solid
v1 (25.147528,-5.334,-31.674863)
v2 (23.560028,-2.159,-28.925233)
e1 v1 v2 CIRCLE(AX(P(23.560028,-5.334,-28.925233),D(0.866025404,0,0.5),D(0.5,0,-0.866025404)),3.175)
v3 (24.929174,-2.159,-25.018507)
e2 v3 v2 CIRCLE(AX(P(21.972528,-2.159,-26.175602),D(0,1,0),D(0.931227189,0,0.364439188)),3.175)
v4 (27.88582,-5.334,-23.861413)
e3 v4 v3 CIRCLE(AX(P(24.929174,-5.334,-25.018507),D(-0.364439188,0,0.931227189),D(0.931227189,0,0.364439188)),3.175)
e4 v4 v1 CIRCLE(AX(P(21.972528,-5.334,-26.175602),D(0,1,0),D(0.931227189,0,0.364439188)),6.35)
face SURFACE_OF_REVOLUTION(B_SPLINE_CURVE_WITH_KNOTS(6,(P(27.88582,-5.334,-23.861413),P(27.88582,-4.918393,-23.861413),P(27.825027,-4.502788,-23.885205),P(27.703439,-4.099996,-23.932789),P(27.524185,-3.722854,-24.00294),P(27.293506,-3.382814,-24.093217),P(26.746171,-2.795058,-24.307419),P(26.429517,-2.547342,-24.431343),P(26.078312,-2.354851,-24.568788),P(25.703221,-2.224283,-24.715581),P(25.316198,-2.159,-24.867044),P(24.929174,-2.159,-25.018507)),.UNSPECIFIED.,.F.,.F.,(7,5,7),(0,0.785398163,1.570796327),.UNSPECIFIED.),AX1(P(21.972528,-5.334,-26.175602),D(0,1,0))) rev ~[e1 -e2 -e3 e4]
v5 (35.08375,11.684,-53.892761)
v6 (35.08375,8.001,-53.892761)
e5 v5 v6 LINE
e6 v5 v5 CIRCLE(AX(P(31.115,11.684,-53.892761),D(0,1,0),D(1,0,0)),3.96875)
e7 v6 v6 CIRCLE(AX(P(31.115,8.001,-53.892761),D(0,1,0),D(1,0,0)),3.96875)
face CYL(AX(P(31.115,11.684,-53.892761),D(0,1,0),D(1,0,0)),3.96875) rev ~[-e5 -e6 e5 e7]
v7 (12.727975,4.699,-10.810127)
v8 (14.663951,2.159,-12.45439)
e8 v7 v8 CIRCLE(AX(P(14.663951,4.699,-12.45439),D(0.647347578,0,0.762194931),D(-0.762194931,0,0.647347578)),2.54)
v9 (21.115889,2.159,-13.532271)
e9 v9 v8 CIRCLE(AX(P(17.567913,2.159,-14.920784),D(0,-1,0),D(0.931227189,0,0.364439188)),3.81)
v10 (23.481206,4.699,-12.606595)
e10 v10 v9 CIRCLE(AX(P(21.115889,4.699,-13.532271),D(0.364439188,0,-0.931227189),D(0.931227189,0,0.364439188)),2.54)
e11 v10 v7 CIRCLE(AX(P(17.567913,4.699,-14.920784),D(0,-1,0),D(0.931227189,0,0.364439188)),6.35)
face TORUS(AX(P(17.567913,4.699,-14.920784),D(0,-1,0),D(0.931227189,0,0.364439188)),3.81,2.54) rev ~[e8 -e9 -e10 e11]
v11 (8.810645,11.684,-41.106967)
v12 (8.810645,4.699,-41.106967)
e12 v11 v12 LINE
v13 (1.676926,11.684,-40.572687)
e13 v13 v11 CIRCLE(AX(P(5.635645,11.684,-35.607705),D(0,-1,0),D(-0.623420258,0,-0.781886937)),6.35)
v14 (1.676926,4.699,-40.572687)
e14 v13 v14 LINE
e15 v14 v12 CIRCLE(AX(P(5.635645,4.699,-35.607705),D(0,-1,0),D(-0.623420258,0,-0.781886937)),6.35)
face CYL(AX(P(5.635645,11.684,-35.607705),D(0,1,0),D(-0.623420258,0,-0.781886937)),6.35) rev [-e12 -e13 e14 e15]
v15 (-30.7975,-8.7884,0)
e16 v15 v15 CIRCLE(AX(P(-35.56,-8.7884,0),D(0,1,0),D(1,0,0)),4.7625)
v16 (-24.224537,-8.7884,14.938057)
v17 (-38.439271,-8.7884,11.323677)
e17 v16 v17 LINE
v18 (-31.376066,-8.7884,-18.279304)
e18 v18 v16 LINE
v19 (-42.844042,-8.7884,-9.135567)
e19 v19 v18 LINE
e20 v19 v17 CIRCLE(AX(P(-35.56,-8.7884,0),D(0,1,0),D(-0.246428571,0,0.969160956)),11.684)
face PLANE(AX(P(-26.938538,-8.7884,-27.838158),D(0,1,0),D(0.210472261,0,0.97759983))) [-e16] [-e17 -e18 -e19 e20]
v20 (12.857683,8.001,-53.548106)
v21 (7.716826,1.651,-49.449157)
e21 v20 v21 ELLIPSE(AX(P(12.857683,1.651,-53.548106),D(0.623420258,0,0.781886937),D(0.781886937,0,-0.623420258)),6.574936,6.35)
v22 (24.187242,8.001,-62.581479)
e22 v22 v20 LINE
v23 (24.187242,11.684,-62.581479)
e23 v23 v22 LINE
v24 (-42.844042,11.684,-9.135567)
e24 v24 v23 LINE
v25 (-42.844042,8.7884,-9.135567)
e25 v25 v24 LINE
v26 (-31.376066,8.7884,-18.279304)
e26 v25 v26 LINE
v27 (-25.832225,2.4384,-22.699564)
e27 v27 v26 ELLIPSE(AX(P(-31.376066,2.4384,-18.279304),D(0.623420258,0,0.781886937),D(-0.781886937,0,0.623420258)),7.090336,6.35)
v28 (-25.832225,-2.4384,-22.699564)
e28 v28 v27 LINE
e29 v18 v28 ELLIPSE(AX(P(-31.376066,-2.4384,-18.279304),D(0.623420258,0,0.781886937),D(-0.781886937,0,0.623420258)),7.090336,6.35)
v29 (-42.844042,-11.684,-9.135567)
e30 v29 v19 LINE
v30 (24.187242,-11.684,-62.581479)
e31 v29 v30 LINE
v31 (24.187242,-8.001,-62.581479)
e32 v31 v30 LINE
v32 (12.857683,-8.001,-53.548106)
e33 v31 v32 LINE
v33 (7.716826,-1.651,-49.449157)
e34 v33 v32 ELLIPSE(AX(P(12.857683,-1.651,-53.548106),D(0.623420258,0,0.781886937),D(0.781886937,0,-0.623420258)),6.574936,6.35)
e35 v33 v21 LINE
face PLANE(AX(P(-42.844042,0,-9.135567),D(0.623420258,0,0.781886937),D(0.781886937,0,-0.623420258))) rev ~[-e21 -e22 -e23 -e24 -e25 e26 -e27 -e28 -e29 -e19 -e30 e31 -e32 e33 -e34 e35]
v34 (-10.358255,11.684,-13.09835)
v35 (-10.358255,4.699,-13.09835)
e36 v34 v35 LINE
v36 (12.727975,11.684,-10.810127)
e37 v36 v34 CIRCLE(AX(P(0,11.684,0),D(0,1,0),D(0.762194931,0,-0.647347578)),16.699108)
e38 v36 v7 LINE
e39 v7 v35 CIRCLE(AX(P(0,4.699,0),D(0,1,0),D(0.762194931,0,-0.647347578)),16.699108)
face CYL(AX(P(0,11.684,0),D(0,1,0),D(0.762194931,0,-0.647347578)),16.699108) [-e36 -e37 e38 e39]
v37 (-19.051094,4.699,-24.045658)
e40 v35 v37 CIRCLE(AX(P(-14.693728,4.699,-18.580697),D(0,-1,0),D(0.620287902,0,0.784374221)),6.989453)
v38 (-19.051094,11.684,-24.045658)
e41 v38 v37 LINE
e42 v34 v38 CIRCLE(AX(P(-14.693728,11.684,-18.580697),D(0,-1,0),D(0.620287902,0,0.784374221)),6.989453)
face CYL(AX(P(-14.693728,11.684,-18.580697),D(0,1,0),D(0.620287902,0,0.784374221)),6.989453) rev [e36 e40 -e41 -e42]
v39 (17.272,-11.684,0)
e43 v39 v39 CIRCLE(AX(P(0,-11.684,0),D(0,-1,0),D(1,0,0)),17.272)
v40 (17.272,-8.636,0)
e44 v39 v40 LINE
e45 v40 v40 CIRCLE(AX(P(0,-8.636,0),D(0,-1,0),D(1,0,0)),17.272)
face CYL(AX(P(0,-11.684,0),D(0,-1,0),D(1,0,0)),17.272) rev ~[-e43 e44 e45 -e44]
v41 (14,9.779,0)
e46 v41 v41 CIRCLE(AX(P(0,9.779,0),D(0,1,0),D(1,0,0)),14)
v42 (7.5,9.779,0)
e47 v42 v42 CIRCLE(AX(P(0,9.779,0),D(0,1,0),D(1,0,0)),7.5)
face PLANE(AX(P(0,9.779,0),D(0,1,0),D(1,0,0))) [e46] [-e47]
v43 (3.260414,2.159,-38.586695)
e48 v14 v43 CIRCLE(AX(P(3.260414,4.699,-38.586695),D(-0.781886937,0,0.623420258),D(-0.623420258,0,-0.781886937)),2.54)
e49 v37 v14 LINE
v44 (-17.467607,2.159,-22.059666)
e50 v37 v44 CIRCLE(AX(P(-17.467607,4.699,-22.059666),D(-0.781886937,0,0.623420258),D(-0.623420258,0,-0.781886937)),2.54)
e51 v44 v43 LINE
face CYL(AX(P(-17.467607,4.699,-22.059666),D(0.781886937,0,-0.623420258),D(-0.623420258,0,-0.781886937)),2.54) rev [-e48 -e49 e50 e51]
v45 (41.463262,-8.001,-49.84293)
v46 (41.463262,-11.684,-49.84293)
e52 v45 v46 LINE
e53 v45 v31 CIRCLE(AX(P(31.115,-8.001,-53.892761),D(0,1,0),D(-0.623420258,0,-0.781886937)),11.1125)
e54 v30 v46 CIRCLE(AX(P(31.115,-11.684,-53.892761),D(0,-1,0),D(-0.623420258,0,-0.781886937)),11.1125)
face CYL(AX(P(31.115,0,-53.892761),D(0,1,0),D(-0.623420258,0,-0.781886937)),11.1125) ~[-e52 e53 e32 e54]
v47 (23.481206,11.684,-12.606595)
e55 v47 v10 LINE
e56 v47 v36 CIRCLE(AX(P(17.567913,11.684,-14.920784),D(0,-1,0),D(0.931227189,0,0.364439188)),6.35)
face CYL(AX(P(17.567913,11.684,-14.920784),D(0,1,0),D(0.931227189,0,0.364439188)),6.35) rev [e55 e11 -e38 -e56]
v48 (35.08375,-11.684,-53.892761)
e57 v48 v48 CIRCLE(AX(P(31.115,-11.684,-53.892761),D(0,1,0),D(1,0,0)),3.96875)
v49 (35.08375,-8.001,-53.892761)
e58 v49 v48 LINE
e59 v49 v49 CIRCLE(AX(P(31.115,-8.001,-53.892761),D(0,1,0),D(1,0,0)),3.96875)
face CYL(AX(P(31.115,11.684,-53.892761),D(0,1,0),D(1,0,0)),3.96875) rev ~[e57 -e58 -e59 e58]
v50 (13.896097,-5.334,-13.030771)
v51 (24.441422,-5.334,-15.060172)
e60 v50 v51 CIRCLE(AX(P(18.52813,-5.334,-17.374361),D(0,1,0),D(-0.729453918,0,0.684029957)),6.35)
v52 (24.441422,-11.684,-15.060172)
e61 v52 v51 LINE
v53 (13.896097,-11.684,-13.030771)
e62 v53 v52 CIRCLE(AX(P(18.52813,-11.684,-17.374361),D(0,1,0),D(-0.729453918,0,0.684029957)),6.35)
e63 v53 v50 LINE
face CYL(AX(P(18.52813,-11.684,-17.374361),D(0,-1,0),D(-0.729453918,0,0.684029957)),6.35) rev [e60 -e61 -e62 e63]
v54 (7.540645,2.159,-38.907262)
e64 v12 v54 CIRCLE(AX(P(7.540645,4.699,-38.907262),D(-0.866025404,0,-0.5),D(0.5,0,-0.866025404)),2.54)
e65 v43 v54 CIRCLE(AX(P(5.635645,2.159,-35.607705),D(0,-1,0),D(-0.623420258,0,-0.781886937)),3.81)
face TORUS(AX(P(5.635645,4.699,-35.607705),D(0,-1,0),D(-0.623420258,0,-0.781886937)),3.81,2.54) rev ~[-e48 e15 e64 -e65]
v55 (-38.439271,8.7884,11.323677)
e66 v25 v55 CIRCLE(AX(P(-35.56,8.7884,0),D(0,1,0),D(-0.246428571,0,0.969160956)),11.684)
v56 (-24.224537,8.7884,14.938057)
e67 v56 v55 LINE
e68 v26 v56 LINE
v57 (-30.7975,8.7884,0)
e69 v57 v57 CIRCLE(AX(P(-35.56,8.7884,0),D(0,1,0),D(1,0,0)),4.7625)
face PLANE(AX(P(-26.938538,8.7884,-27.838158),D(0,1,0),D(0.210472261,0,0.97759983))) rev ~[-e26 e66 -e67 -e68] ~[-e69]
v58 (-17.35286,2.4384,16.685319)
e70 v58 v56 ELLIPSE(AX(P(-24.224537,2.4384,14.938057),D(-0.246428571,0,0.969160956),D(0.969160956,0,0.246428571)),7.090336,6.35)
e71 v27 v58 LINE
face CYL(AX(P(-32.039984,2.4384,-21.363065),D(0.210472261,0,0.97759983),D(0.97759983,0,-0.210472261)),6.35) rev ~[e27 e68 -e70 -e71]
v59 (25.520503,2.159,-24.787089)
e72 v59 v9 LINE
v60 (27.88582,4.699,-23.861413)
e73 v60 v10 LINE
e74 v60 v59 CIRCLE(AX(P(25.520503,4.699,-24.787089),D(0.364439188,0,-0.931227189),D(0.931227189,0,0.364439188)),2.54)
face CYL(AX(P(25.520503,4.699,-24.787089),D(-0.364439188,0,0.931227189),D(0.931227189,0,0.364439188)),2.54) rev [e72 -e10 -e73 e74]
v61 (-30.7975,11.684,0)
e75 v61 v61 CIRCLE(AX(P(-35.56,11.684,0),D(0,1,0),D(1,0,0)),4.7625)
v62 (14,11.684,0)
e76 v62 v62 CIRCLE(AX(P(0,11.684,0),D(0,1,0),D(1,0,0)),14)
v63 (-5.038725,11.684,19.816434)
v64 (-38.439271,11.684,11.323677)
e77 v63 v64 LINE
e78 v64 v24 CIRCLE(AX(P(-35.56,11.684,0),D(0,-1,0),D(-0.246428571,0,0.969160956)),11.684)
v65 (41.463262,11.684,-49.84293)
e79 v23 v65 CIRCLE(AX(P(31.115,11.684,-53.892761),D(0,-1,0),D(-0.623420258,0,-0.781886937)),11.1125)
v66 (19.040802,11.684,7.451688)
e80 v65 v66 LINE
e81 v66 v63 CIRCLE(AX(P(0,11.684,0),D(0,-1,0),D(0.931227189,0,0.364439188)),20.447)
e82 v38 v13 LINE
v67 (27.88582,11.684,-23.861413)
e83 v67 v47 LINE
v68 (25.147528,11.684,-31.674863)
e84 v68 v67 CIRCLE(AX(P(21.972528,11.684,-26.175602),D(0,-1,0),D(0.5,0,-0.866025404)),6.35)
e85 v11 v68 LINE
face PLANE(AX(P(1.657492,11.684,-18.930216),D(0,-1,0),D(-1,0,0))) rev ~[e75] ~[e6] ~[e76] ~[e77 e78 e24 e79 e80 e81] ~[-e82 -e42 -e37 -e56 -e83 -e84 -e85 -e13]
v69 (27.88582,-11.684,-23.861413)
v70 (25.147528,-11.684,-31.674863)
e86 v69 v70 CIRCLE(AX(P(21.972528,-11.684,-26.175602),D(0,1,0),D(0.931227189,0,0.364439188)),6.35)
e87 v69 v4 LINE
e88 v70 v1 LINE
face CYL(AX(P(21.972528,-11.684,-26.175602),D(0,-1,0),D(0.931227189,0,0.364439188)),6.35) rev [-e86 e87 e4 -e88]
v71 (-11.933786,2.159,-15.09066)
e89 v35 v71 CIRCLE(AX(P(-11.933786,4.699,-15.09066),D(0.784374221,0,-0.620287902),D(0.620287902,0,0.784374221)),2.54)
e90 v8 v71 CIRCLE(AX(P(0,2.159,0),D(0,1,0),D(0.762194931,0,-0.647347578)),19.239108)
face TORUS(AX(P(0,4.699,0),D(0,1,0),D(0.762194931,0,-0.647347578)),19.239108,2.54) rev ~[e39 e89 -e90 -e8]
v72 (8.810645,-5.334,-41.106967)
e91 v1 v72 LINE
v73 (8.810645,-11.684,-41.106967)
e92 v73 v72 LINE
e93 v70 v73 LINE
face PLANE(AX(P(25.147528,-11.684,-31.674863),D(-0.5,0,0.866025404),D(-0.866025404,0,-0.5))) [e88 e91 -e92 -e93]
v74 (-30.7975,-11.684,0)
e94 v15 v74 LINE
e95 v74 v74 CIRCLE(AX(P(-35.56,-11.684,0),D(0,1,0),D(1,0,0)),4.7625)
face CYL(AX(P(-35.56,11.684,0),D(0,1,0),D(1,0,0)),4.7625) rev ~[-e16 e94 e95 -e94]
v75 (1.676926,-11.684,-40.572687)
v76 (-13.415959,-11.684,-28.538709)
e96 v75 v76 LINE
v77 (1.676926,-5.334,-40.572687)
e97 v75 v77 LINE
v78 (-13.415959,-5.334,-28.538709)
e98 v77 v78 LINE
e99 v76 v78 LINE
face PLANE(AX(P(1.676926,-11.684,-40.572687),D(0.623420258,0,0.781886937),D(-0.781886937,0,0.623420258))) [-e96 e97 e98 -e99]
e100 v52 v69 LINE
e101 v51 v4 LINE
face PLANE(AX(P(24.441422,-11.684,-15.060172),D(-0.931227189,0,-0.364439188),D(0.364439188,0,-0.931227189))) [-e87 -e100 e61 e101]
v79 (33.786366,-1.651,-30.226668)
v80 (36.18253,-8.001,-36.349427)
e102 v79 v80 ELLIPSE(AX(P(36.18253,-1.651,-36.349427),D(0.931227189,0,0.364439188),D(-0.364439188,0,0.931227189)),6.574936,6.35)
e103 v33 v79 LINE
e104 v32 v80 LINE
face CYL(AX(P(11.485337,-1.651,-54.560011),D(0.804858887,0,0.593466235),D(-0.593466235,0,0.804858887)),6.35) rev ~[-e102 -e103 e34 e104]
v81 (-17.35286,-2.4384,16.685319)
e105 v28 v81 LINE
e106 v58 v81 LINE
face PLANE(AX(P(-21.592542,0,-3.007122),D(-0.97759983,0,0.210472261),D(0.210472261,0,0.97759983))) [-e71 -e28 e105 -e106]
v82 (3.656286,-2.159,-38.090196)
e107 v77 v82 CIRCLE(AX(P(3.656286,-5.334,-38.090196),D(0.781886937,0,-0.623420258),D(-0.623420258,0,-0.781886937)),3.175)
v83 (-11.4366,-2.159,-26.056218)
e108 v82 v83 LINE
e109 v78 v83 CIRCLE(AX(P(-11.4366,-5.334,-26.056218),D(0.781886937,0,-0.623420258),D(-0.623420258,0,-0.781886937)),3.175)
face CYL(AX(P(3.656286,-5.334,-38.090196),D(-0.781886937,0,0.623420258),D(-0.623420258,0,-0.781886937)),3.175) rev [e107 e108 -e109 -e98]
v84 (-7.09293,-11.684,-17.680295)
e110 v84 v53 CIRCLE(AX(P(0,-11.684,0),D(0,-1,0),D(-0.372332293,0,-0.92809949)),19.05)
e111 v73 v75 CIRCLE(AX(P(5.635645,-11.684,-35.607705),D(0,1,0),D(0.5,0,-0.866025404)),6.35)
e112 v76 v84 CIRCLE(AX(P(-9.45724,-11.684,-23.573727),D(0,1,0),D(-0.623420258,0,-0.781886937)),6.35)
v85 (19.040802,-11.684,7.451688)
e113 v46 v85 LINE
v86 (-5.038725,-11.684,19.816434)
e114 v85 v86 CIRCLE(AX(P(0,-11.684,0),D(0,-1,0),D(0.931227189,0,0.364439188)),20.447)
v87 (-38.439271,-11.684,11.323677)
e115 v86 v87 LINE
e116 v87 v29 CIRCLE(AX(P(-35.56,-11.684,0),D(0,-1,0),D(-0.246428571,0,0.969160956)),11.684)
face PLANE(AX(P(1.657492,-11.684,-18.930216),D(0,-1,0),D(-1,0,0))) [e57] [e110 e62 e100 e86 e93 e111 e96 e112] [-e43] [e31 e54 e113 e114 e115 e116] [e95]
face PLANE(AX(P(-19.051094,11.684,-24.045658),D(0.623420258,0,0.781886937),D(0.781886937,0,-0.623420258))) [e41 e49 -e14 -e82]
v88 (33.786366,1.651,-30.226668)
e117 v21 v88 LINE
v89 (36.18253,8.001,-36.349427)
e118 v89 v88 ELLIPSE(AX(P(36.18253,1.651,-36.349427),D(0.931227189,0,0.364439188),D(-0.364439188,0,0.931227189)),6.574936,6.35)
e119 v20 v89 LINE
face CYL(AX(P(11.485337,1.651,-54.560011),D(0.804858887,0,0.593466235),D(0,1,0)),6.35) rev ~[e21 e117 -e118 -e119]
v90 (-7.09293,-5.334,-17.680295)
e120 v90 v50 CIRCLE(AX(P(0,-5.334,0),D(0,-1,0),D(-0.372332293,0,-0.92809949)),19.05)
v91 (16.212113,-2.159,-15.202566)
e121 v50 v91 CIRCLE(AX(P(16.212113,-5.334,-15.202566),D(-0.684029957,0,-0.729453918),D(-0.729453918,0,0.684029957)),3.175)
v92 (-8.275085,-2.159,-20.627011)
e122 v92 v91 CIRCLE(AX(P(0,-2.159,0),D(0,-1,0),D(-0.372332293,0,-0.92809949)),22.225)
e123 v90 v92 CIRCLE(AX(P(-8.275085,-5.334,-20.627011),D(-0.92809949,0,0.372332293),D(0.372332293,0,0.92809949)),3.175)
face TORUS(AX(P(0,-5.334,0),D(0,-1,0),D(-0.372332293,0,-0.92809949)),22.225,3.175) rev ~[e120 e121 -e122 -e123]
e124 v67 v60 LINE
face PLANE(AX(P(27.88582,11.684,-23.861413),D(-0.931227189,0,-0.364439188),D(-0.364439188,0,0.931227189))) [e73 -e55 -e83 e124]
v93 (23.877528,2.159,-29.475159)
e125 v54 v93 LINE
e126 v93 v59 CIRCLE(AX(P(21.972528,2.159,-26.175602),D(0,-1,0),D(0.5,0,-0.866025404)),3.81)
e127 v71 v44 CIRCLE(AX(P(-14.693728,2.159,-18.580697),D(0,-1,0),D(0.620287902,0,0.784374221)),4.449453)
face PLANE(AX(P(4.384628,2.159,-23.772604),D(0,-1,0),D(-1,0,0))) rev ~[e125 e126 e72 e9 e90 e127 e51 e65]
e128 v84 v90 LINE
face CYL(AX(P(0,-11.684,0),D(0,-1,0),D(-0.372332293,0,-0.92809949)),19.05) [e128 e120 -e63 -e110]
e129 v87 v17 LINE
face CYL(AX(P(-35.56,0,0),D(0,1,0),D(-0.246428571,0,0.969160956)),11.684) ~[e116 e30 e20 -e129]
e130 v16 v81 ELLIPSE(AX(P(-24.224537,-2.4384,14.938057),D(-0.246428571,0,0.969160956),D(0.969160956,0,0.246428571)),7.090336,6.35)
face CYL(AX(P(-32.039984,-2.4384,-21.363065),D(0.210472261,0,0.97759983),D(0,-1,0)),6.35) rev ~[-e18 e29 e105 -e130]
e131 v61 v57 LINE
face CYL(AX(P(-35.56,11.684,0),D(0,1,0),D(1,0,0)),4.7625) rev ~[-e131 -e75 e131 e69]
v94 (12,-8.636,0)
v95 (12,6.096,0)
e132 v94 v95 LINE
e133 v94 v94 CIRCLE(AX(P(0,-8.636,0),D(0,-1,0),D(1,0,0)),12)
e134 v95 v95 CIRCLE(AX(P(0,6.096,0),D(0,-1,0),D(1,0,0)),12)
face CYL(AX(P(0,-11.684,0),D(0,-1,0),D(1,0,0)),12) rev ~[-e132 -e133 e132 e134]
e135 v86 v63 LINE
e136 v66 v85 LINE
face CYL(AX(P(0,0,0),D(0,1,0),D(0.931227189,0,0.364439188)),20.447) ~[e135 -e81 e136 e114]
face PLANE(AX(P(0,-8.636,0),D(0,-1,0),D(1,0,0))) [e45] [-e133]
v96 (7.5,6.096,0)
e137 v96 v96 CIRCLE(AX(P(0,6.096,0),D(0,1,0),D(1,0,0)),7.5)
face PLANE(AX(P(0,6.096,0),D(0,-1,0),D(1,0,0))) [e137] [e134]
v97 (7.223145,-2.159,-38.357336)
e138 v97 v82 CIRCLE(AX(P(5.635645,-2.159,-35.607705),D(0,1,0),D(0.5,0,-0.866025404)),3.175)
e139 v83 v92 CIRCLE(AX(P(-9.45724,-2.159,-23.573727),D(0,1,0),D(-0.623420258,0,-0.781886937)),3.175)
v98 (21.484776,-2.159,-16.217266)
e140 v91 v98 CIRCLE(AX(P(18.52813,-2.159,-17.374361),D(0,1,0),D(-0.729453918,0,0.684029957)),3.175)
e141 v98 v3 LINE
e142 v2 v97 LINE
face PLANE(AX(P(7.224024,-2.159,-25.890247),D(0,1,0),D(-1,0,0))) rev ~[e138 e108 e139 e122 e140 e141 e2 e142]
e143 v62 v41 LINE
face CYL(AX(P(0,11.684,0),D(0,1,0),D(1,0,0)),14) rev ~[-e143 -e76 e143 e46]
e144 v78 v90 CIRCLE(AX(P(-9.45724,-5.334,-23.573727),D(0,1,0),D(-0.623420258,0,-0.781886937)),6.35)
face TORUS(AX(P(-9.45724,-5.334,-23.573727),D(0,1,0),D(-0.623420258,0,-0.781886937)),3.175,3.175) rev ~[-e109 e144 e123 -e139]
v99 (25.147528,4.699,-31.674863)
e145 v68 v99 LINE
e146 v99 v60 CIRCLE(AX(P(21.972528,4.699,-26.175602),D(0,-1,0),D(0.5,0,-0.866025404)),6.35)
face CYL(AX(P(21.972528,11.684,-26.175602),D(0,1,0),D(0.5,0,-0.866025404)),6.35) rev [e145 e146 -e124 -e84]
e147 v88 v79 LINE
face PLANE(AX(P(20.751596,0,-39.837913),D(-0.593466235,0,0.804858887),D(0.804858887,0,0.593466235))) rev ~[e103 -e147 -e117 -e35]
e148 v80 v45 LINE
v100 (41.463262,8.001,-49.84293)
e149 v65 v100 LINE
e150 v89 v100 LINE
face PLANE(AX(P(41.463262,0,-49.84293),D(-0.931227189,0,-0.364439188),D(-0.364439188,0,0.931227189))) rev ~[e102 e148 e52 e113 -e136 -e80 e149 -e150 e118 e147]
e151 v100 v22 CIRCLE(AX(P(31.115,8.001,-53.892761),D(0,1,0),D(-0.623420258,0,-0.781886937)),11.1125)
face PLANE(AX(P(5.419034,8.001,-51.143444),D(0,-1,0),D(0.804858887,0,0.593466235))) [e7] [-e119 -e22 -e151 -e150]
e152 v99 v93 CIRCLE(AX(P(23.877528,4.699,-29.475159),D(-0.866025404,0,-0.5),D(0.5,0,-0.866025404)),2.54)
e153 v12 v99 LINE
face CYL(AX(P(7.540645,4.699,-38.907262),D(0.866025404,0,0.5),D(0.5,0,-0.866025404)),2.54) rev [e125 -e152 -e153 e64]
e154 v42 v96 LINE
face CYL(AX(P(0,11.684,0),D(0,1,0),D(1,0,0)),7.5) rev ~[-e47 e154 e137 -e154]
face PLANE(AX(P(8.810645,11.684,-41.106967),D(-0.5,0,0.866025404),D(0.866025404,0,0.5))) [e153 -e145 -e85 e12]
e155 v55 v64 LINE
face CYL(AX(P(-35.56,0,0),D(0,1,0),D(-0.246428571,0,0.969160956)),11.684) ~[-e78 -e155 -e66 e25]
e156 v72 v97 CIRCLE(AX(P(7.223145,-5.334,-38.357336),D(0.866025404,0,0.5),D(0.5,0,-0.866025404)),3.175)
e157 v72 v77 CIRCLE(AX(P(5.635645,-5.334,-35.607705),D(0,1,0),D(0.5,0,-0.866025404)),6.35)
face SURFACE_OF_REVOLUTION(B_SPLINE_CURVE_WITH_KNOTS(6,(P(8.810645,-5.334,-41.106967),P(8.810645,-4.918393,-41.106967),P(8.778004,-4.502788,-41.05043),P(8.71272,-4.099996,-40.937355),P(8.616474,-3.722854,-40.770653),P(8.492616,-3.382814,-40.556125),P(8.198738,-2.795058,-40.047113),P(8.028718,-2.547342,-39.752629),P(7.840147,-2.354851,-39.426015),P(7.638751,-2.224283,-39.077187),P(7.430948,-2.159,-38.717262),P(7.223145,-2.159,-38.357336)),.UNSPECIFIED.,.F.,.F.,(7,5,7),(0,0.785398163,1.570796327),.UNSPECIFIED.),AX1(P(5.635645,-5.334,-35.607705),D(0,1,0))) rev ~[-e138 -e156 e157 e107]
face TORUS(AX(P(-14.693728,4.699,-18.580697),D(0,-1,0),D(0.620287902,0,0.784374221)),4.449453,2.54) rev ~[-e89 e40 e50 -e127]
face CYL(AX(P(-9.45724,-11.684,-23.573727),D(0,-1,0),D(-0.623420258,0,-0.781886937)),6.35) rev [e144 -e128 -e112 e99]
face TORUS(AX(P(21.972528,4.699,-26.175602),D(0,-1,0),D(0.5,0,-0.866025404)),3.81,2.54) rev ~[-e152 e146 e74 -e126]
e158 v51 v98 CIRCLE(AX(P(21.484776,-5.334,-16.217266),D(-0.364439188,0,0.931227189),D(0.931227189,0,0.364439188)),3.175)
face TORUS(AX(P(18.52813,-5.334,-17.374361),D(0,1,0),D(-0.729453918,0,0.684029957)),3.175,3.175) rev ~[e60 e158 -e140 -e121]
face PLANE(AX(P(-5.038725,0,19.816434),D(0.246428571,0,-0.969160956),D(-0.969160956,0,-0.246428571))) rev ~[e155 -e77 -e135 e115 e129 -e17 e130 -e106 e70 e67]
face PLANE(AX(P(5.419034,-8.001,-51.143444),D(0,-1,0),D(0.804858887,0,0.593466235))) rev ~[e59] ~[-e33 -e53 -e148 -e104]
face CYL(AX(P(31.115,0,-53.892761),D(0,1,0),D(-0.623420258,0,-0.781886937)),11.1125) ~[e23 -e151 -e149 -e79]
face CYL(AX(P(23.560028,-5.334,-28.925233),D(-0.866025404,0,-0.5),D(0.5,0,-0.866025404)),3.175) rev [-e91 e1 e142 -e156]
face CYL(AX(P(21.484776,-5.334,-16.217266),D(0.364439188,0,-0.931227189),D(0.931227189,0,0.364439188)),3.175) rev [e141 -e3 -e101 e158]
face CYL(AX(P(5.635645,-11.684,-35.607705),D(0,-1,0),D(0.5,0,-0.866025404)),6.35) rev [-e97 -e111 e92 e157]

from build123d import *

# Parameters (mm, degrees)
BOSS_EXTRUDE2_DEPTH = 11.684
SKETCH3_R           = 12
CUT_EXTRUDE1_DEPTH  = 17.78
SKETCH5_R           = 4.7625
SKETCH5_R_2         = 3.96875
CUT_EXTRUDE3_DEPTH  = 24.368
SKETCH4_R           = 7.5
CUT_EXTRUDE2_DEPTH  = 24.368
CUT_EXTRUDE4_DEPTH  = 9.525
CUT_EXTRUDE5_DEPTH  = 9.525
SKETCH10_R          = 14
CUT_EXTRUDE6_DEPTH  = 1.905
CUT_EXTRUDE7_REACH  = 35.001
SKETCH12_W          = 38.1
SKETCH12_H          = 16.002
CUT_EXTRUDE8_REACH  = 32.013
SKETCH15_W          = 50.8
SKETCH15_H          = 17.5768
FILLET2_R           = 3.175
FILLET3_R           = 6.35
FILLET4_R           = 2.54
SKETCH16_R          = 17.272
CUT_EXTRUDE9_DEPTH  = 3.048


with BuildPart() as part:
    # Sketch2 → Boss-Extrude2 (new body, symmetric)
    with BuildSketch(Plane(origin=(0, 0, 0), x_dir=(1, 0, 0), z_dir=(0, 1, 0))):
        with BuildLine():
            Line((-42.844042296, 9.135566968), (24.187242381, 62.581479461))
            ThreePointArc((24.187242381, 62.581479461), (37.709893542, 62.836755255), (41.463262143, 49.842930403))
            Line((41.463262143, 49.842930403), (19.040802343, -7.451688072))
            ThreePointArc((19.040802343, -7.451688072), (9.340036317, -18.189104722), (-5.038725, -19.816434073))
            Line((-5.038725, -19.816434073), (-38.439271429, -11.323676613))
            ThreePointArc((-38.439271429, -11.323676613), (-46.982276413, -2.459157895), (-42.844042296, 9.135566968))
        make_face()
    extrude(amount=BOSS_EXTRUDE2_DEPTH, both=True)

    # Sketch3 → Cut-Extrude1 (cut)
    with BuildSketch(Plane.XZ.offset(11.684)):
        Circle(SKETCH3_R)
    extrude(amount=-CUT_EXTRUDE1_DEPTH, mode=Mode.SUBTRACT)

    # Sketch5 → Cut-Extrude3 (cut, through all)
    with BuildSketch(Plane(origin=(0, 11.684, 0), x_dir=(1, 0, 0), z_dir=(0, 1, 0))):
        with Locations((-35.56, 0)):
            Circle(SKETCH5_R)
        with Locations((31.115, 53.892760878)):
            Circle(SKETCH5_R_2)
    extrude(amount=-CUT_EXTRUDE3_DEPTH, mode=Mode.SUBTRACT)

    # Sketch4 → Cut-Extrude2 (cut, through all)
    with BuildSketch(Plane(origin=(0, 11.684, 0), x_dir=(1, 0, 0), z_dir=(0, 1, 0))):
        Circle(SKETCH4_R)
    extrude(amount=-CUT_EXTRUDE2_DEPTH, mode=Mode.SUBTRACT)

    # Sketch6 → Cut-Extrude4 (cut)
    with BuildSketch(Plane(origin=(0, 11.684, 0), x_dir=(1, 0, 0), z_dir=(0, 1, 0))):
        with BuildLine():
            Line((8.810645098, 41.106966719), (25.147527575, 31.674863223))
            ThreePointArc((25.147527575, 31.674863223), (27.965170287, 28.275776503), (27.885820228, 23.861413067))
            Line((27.885820228, 23.861413067), (23.481205903, 12.606595374))
            ThreePointArc((23.481205903, 12.606595374), (18.614262725, 8.65758593), (12.727975438, 10.810127095))
            ThreePointArc((12.727975438, 10.810127095), (1.647083767, 16.617680994), (-10.358254645, 13.098349791))
            ThreePointArc((-10.358254645, 13.098349791), (-20.167393041, 14.234267976), (-19.051094323, 24.045658467))
            Line((-19.051094323, 24.045658467), (1.676926459, 40.572687453))
            ThreePointArc((1.676926459, 40.572687453), (5.16139062, 41.939970615), (8.810645098, 41.106966719))
        make_face()
    extrude(amount=-CUT_EXTRUDE4_DEPTH, mode=Mode.SUBTRACT)

    # Sketch8 → Cut-Extrude5 (cut)
    with BuildSketch(Plane.XZ.offset(11.684)):
        with BuildLine():
            Line((25.147527575, -31.674863223), (8.810645098, -41.106966719))
            ThreePointArc((8.810645098, -41.106966719), (5.16139062, -41.939970615), (1.676926459, -40.572687453))
            Line((1.676926459, -40.572687453), (-13.415958874, -28.5387091))
            ThreePointArc((-13.415958874, -28.5387091), (-14.944664248, -20.378311947), (-7.092930176, -17.680295289))
            ThreePointArc((-7.092930176, -17.680295289), (4.120108003, -18.599118529), (13.896097136, -13.030770675))
            ThreePointArc((13.896097136, -13.030770675), (19.728139709, -11.138779489), (24.441422168, -15.060172058))
            Line((24.441422168, -15.060172058), (27.885820228, -23.861413067))
            ThreePointArc((27.885820228, -23.861413067), (27.965170287, -28.275776503), (25.147527575, -31.674863223))
        make_face()
    extrude(amount=-CUT_EXTRUDE5_DEPTH, mode=Mode.SUBTRACT)

    # Sketch10 → Cut-Extrude6 (cut)
    with BuildSketch(Plane(origin=(0, 11.684, 0), x_dir=(1, 0, 0), z_dir=(0, 1, 0))):
        Circle(SKETCH10_R)
    extrude(amount=-CUT_EXTRUDE6_DEPTH, mode=Mode.SUBTRACT)

    # Sketch12 → Cut-Extrude7 (cut, up to next)
    with BuildSketch(Plane(origin=(26.337597963, 0, -35.719049385), x_dir=(0.804858887, 0, 0.593466235), z_dir=(-0.593466235, 0, 0.804858887)), mode=Mode.PRIVATE) as cut_extrude7_sk1:
        with Locations((-6.94034966, 0)):
            Rectangle(SKETCH12_W, SKETCH12_H)
    cut_extrude7_tool1 = extrude(cut_extrude7_sk1.sketch, amount=-CUT_EXTRUDE7_REACH, mode=Mode.PRIVATE) & part.part
    add(cut_extrude7_tool1.solids().sort_by_distance((20.751596, 0, -39.837913))[0], mode=Mode.SUBTRACT)

    # Sketch15 → Cut-Extrude8 (cut, up to next)
    with BuildSketch(Plane(origin=(-20.01728519, 0, 4.309619478), x_dir=(0.210472261, 0, 0.97759983), z_dir=(-0.97759983, 0, 0.210472261)), mode=Mode.PRIVATE) as cut_extrude8_sk1:
        with Locations((-7.484393594, 0)):
            Rectangle(SKETCH15_W, SKETCH15_H)
    cut_extrude8_tool1 = extrude(cut_extrude8_sk1.sketch, amount=CUT_EXTRUDE8_REACH, mode=Mode.PRIVATE) & part.part
    add(cut_extrude8_tool1.solids().sort_by_distance((-21.592542, 0, -3.007122))[0], mode=Mode.SUBTRACT)

    # Fillet2
    fillet2_edges = [part.edges().sort_by_distance(p)[0] for p in [
        (19.728139709, -2.159, -11.138779489),
        (26.163621198, -2.159, -19.460792562),
        (27.965170287, -2.159, -28.275776503),
        (16.979086336, -2.159, -36.390914971),
        (5.16139062, -2.159, -41.939970615),
        (-5.869516208, -2.159, -34.555698277),
        (-14.944664248, -2.159, -20.378311947),
        (4.120108003, -2.159, -18.599118529),
    ]]
    fillet(fillet2_edges, radius=FILLET2_R)

    # Fillet3
    fillet3_edges = [part.edges().sort_by_distance(p)[0] for p in [
        (20.751595863, -8.001, -39.83791257),
        (20.751595863, 8.001, -39.83791257),
        (-21.59254243, -8.7884, -3.007122426),
        (-21.59254243, 8.7884, -3.007122426),
    ]]
    fillet(fillet3_edges, radius=FILLET3_R)

    # Fillet4
    fillet4_edges = [part.edges().sort_by_distance(p)[0] for p in [
        (-20.167393041, 2.159, -14.234267976),
        (-8.687083932, 2.159, -32.30917296),
        (5.16139062, 2.159, -41.939970615),
        (16.979086336, 2.159, -36.390914971),
        (27.965170287, 2.159, -28.275776503),
        (25.683513065, 2.159, -18.234004221),
        (18.614262725, 2.159, -8.65758593),
        (1.647083767, 2.159, -16.617680994),
    ]]
    fillet(fillet4_edges, radius=FILLET4_R)

    # Sketch16 → Cut-Extrude9 (cut)
    with BuildSketch(Plane.XZ.offset(11.684)):
        Circle(SKETCH16_R)
    extrude(amount=-CUT_EXTRUDE9_DEPTH, mode=Mode.SUBTRACT)


solid = part.part
